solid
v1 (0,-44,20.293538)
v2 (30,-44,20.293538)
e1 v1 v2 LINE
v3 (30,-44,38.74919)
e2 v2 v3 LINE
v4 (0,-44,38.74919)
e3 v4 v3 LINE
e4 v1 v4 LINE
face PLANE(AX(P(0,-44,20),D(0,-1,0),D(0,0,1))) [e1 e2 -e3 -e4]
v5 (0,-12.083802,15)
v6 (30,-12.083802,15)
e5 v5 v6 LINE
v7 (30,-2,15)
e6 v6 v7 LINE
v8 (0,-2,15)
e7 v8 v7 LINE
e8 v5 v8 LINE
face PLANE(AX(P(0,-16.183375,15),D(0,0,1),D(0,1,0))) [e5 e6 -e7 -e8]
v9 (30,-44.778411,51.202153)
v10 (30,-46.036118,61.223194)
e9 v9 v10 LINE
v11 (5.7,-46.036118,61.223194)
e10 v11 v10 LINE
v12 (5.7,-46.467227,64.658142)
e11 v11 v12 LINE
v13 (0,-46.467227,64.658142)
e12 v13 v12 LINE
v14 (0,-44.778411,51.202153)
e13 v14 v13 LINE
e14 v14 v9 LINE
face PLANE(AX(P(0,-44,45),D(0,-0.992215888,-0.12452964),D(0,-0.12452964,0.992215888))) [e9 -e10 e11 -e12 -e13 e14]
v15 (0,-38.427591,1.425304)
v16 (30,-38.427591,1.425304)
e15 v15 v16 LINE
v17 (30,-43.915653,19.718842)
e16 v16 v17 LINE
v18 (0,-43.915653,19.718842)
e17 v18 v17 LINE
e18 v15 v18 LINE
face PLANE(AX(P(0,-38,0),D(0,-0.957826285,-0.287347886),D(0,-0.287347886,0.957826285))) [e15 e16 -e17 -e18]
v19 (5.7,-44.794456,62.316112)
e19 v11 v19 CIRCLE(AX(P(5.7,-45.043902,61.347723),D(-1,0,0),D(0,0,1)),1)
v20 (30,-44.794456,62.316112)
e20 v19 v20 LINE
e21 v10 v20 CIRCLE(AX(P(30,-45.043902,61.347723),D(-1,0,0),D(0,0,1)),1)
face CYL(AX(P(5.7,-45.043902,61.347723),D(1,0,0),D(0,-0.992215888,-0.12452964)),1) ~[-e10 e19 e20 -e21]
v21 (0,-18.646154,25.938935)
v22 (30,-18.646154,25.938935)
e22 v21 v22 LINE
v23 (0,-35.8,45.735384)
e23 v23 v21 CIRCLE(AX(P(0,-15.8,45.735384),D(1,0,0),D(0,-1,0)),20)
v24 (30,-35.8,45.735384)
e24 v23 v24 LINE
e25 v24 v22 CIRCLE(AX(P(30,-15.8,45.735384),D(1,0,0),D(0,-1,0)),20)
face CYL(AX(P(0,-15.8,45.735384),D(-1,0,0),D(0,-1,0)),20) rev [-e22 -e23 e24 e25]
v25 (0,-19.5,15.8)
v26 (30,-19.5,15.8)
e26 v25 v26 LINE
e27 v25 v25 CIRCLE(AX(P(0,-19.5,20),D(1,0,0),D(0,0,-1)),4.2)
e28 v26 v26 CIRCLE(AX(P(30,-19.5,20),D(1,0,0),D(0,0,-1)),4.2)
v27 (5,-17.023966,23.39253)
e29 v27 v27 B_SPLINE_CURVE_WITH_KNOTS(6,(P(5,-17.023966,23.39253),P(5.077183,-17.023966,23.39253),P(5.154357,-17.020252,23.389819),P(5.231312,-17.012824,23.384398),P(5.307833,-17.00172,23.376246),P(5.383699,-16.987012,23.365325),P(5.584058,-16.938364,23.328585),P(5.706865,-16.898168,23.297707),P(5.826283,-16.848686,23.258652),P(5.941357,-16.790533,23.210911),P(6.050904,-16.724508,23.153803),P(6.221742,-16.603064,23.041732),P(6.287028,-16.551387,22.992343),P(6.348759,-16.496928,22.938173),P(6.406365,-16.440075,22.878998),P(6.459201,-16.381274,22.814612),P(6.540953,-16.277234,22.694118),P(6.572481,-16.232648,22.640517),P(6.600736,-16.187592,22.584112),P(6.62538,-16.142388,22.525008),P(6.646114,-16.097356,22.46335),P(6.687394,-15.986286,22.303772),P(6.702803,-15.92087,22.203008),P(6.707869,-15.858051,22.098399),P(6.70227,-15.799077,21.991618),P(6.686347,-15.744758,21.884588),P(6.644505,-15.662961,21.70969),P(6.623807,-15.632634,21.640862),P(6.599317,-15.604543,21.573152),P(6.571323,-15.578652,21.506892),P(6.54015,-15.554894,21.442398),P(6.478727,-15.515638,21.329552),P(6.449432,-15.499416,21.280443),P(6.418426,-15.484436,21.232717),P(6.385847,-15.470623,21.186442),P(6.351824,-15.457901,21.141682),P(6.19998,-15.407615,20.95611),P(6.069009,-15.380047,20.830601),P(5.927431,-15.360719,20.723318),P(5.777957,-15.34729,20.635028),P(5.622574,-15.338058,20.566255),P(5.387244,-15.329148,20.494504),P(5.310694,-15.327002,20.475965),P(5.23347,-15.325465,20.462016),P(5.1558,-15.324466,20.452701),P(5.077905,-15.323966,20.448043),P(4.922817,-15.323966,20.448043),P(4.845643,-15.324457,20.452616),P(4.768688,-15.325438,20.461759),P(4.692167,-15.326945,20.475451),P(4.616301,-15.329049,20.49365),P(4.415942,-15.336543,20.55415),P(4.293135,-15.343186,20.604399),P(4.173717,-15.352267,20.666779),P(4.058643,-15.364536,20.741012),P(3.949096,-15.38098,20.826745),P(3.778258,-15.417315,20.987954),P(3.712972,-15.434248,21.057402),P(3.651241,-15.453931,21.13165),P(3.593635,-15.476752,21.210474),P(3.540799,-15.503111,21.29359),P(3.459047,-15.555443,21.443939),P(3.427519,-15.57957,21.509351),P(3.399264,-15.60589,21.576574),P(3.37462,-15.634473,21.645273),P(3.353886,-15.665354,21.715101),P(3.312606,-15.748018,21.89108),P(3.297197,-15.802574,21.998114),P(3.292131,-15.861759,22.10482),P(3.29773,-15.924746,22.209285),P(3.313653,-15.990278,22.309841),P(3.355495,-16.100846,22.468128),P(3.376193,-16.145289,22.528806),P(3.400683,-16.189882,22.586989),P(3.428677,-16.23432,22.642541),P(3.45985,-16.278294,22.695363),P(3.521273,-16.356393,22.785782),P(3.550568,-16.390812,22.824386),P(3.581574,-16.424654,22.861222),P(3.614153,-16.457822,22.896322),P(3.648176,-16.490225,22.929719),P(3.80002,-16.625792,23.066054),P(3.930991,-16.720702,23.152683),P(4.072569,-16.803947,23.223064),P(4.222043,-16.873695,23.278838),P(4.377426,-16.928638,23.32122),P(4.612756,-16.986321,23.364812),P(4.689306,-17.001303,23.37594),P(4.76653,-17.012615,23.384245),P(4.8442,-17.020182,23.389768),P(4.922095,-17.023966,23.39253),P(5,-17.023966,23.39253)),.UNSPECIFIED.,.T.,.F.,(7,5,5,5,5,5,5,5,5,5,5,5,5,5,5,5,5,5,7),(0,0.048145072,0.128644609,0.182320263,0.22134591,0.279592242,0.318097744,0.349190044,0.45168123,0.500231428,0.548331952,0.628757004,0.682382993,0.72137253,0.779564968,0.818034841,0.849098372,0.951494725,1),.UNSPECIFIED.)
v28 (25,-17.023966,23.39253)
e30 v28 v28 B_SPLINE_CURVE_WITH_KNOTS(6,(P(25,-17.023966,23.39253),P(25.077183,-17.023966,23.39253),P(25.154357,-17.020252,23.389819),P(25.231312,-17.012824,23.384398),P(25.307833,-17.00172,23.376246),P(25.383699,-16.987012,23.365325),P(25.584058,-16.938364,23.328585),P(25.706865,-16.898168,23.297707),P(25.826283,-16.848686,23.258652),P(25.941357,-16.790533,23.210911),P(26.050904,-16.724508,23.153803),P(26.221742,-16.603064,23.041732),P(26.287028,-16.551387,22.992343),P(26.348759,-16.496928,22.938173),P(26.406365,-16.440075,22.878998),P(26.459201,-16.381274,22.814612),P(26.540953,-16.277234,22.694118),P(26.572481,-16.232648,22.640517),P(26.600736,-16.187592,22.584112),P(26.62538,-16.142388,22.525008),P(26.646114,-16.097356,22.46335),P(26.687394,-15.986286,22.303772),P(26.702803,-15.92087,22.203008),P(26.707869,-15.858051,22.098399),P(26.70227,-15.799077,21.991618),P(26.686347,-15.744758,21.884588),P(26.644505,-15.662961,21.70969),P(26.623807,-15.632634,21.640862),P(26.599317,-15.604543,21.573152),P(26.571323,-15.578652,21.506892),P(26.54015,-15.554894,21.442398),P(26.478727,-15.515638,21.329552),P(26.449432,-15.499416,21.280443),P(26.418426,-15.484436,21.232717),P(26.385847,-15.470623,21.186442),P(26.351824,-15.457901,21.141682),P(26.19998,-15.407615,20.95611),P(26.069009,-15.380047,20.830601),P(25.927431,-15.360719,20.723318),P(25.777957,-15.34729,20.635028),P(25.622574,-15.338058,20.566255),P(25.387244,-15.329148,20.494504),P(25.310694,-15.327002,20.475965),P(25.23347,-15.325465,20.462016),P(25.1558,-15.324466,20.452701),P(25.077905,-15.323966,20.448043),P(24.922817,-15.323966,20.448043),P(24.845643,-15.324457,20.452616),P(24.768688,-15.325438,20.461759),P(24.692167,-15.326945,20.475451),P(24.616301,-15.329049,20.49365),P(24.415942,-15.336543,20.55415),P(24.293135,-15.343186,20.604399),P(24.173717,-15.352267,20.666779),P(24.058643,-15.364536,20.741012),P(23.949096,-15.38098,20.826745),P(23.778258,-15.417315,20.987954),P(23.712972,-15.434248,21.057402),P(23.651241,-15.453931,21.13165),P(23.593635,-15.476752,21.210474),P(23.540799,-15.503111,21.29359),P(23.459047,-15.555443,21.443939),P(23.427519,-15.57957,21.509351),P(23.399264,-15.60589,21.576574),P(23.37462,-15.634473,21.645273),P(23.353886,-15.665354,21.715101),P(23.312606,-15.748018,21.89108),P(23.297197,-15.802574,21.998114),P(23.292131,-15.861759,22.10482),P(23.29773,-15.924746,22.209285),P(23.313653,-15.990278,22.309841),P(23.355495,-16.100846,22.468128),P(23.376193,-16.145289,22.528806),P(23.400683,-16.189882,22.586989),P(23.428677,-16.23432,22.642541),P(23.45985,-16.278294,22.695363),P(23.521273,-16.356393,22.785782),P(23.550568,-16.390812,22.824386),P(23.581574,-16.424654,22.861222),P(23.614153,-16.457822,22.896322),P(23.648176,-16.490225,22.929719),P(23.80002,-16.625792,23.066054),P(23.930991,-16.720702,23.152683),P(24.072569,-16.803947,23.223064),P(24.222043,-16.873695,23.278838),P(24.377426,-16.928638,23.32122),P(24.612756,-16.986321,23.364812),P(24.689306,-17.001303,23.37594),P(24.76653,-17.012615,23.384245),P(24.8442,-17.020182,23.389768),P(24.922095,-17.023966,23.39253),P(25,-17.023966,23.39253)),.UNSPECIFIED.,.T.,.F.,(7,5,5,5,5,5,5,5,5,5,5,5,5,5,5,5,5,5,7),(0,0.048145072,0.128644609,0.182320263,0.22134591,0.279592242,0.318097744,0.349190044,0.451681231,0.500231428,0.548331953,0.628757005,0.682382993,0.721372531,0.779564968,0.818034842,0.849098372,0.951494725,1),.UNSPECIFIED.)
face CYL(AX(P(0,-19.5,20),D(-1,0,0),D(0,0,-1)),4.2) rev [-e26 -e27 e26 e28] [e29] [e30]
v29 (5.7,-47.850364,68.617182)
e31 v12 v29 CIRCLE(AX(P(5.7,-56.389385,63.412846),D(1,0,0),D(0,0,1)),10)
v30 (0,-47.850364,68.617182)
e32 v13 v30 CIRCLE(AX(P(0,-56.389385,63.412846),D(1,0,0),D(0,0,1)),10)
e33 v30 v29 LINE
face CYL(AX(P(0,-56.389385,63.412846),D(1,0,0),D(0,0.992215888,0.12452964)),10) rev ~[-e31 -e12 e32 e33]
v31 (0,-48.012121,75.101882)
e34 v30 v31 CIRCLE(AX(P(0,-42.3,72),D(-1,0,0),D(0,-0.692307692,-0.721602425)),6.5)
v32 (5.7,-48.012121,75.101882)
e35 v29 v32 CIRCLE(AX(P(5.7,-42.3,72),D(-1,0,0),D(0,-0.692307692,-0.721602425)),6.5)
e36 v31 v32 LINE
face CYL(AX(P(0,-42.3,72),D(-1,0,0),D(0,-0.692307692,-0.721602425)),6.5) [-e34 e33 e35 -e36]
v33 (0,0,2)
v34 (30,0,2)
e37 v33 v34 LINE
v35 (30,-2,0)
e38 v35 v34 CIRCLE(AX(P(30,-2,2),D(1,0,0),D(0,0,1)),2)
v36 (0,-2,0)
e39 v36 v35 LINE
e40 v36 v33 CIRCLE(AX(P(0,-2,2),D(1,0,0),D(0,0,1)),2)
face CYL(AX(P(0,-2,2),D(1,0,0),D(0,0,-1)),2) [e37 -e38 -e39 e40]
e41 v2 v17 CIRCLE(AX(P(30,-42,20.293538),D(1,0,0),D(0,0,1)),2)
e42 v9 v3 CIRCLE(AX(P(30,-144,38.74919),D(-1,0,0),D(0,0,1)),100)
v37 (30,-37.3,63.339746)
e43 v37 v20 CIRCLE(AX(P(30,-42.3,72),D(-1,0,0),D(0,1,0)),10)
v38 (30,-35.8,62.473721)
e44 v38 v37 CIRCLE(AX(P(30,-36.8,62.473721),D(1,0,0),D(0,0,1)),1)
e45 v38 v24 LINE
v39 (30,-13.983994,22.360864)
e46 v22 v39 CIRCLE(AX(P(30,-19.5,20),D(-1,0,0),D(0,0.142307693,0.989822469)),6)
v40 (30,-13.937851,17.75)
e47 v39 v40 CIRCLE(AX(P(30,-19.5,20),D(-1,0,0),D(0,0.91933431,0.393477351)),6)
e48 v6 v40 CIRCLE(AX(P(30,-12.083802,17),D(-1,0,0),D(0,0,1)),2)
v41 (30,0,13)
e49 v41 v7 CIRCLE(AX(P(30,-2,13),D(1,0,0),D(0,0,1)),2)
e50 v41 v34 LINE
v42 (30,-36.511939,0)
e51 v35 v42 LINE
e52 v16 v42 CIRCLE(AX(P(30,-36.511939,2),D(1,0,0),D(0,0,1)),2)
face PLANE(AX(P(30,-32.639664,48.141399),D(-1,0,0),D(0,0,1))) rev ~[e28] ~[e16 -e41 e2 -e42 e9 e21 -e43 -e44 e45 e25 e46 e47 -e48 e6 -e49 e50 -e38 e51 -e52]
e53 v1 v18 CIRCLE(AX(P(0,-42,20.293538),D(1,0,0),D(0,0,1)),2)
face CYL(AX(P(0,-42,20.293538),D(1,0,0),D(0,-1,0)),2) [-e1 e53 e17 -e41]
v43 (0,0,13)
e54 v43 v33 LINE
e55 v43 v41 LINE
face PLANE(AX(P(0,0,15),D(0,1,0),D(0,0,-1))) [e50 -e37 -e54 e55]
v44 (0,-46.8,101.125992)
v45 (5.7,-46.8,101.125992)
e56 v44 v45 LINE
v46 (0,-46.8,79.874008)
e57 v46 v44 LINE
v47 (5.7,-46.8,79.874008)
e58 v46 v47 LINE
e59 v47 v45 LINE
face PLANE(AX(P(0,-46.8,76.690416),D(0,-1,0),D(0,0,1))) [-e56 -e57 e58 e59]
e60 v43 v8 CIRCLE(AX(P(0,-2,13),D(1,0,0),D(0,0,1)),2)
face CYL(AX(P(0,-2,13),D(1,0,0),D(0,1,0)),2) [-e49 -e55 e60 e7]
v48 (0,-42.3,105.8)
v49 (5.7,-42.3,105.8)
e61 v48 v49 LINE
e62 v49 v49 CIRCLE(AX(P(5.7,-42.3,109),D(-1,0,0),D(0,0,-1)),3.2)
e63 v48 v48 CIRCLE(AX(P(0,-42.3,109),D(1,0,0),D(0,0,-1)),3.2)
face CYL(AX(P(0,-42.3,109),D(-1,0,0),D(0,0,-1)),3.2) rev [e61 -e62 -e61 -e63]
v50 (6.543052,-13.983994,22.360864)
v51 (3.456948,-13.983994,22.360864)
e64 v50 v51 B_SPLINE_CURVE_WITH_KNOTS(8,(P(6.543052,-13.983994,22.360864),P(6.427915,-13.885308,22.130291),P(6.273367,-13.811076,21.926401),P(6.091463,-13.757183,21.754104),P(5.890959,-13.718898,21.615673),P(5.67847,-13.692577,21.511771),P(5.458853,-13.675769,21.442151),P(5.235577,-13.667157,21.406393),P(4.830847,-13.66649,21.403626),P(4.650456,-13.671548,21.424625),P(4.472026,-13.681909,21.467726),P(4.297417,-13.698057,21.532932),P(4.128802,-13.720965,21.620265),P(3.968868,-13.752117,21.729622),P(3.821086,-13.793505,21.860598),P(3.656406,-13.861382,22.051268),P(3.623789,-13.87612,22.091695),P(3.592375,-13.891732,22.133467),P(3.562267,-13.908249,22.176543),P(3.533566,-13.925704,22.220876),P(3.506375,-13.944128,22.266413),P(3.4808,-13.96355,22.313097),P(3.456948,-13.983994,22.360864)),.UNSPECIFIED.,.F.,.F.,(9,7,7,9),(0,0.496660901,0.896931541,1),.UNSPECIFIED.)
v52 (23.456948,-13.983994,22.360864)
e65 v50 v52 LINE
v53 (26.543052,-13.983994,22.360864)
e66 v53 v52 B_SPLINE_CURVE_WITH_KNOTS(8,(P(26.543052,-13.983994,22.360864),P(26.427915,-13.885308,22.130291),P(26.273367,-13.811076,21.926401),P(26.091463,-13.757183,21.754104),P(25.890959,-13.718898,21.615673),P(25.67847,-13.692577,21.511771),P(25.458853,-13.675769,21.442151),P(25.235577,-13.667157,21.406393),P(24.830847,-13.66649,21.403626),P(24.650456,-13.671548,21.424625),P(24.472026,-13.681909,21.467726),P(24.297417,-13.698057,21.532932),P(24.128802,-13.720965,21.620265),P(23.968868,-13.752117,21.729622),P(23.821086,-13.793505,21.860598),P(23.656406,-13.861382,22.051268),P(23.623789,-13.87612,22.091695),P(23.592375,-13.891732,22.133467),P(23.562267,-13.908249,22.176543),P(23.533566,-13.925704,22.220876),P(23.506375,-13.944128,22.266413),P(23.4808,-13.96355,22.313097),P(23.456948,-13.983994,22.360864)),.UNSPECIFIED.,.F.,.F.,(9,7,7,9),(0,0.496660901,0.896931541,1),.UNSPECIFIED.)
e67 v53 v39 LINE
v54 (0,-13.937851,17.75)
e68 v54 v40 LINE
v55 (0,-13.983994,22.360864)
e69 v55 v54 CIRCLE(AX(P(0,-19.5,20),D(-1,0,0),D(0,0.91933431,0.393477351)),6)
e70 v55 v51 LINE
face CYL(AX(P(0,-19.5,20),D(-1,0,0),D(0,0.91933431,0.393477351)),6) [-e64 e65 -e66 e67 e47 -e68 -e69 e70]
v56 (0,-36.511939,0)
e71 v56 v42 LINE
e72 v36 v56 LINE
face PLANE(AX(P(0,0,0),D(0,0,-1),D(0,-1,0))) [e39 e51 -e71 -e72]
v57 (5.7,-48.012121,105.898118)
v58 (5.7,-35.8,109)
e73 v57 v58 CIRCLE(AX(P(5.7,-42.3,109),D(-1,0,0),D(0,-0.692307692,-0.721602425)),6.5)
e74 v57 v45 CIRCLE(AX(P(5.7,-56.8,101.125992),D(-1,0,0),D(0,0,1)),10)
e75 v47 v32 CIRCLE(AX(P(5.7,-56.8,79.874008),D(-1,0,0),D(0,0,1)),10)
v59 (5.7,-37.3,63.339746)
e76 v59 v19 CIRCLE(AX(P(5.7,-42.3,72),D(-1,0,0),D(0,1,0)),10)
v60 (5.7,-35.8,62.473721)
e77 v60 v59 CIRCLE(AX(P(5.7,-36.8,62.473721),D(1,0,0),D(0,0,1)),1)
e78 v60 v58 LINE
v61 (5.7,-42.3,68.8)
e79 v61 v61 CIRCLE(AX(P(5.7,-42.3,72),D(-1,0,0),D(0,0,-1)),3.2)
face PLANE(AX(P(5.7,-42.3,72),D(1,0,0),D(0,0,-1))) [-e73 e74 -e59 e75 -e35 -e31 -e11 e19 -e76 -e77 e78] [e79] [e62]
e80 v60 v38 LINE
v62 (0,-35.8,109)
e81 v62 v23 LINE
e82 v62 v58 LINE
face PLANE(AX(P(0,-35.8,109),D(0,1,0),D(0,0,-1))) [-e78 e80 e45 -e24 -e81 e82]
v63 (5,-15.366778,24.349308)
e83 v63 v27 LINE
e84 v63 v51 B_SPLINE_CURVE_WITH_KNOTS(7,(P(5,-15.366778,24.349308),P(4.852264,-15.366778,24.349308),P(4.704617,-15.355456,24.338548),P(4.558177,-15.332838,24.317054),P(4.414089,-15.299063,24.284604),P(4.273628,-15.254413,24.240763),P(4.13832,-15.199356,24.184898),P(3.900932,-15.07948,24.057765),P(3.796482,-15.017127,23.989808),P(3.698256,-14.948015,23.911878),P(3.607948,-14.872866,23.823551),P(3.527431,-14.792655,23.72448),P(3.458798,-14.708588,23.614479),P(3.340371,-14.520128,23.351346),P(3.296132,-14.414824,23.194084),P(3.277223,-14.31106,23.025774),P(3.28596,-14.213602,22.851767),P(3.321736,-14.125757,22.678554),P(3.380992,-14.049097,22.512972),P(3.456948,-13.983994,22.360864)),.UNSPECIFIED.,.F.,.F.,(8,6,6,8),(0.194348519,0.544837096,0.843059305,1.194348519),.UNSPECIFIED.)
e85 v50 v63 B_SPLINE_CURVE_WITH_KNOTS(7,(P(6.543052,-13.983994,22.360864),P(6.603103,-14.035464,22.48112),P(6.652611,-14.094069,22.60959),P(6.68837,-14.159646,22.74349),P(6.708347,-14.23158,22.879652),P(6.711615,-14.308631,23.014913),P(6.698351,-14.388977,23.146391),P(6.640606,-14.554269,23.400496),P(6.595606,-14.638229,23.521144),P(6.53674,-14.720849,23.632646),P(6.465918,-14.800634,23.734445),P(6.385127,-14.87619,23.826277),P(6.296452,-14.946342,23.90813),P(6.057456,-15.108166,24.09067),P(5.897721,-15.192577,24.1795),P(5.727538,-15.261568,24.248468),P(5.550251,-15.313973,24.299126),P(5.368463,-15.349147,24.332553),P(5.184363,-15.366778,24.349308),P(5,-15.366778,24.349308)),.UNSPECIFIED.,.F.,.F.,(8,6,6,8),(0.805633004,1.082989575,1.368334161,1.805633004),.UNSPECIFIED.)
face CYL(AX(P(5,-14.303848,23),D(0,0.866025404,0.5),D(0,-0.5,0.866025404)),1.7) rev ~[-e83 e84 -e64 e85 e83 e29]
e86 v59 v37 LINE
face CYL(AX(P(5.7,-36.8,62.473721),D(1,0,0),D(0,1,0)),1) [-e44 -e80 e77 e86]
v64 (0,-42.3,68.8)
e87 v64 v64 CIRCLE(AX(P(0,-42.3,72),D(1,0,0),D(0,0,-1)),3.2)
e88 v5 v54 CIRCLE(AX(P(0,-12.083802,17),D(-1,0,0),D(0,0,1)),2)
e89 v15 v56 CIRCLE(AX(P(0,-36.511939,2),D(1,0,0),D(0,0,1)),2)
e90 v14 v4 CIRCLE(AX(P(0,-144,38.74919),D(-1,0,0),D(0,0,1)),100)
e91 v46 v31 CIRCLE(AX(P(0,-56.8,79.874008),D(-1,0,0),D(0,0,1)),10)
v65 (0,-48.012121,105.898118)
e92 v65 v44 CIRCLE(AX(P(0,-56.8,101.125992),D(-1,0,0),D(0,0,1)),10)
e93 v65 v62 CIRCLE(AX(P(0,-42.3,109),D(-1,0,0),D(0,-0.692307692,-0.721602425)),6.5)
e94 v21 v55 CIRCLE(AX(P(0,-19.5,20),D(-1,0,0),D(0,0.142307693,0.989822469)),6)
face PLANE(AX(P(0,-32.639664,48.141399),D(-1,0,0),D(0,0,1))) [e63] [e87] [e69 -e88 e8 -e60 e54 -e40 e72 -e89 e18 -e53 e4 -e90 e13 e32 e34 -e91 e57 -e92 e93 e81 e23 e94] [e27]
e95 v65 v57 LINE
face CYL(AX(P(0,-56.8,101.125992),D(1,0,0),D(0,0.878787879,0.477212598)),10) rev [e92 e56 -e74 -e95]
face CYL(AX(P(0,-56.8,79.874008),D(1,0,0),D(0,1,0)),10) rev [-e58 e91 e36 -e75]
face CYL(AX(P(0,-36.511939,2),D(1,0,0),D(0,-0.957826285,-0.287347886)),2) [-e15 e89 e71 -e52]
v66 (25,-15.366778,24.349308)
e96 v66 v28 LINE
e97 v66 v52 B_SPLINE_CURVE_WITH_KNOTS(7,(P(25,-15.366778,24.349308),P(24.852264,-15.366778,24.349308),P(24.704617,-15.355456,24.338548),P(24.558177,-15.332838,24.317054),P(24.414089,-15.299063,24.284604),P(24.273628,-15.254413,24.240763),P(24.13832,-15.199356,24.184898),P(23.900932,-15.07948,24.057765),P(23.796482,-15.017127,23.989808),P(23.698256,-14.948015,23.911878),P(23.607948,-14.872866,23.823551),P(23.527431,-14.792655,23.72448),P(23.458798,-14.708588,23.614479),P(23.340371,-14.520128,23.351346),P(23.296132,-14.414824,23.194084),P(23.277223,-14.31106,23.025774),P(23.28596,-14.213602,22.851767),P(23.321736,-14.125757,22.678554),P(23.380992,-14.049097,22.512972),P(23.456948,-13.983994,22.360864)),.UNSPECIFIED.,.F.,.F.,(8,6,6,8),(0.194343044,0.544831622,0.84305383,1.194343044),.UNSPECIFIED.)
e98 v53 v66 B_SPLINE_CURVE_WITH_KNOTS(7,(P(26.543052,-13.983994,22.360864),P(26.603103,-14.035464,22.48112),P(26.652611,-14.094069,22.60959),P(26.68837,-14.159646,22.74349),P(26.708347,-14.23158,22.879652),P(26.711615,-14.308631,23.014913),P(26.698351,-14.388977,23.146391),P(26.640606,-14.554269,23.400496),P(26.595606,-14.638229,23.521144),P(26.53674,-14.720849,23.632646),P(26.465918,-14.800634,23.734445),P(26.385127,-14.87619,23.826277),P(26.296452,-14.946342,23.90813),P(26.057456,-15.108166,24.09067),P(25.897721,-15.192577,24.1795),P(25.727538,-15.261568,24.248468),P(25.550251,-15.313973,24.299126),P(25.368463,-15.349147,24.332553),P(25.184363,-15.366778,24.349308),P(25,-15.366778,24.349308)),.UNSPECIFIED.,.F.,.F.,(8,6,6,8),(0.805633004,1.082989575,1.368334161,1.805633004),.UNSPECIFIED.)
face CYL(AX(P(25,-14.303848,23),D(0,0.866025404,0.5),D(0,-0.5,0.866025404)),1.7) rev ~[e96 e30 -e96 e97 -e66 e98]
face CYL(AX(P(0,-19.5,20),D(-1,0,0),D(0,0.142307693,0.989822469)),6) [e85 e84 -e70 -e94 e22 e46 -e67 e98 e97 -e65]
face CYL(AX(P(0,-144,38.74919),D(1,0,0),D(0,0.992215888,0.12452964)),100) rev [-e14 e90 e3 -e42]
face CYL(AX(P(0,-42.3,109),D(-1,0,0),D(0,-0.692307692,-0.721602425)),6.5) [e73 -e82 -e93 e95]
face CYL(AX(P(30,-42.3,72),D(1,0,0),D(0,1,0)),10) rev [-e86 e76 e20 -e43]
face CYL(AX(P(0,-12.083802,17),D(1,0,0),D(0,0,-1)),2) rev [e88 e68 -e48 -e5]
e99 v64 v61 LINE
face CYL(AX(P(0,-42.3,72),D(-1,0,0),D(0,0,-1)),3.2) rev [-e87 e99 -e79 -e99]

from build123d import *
from build123d.topology import SkipClean

# Parameters (mm, degrees)
SKETCH_1_R               = 4.2
SKETCH_1_R_2             = 3.2
EXTRUDE_1_DEPTH          = 30
CUT_EXTRUDE_1_DEPTH      = 125.586877319
CUT_EXTRUDE_1_DEPTH_BACK = 125.586877319
SKETCH_2_R               = 5
SKETCH_4_R               = 8
CUT_EXTRUDE_3_DEPTH      = 24.3
CUT_EXTRUDE_4_DEPTH      = 24.3
CUT_EXTRUDE_5_REACH      = 105.181
CUT_EXTRUDE_5_END_RADIUS = 4.2
SKETCH_7_R               = 1.7
FILLET_1_R               = 2
FILLET_2_R               = 100
FILLET_4_R               = 2
FILLET_5_R               = 1
FILLET_6_R               = 10


with BuildPart() as part:
    # ｽｹｯﾁ1 → ﾎﾞｽ - 押し出し1 (new body)
    with BuildSketch(Plane(origin=(0, 0, 0), x_dir=(0, 0, -1), z_dir=(1, 0, 0))):
        with BuildLine():
            Line((0, 0), (0, -38))
            Line((0, -38), (-20, -44))
            Line((-20, -44), (-45, -44))
            Line((-45, -44), (-67.30958424, -46.8))
            ThreePointArc((-67.30958424, -46.8), (-72, -48.8), (-76.69041576, -46.8))
            Line((-76.69041576, -46.8), (-104.30958424, -46.8))
            ThreePointArc((-104.30958424, -46.8), (-114.979130372, -44.849509757), (-109, -35.8))
            Line((-109, -35.8), (-73.332546795, -35.8))
            Line((-73.332546795, -35.8), (-72, -35.8))
            Line((-72, -35.8), (-45.735384202, -35.8))
            ThreePointArc((-45.735384202, -35.8), (-32.638114962, -30.91494421), (-25.938934816, -18.646153846))
            ThreePointArc((-25.938934816, -18.646153846), (-24.759789788, -15.847001072), (-22.360864108, -13.983994139))
            ThreePointArc((-22.360864108, -13.983994139), (-18.282275098, -13.751137403), (-15, -16.18337521))
            Line((-15, -16.18337521), (-15, 0))
            Line((-15, 0), (0, 0))
        make_face()
        with Locations((-20, -19.5)):
            Circle(SKETCH_1_R, mode=Mode.SUBTRACT)
        with Locations((-109, -42.3)):
            Circle(SKETCH_1_R_2, mode=Mode.SUBTRACT)
        with Locations((-72, -42.3)):
            Circle(SKETCH_1_R_2, mode=Mode.SUBTRACT)
    extrude(amount=EXTRUDE_1_DEPTH)

    # ｽｹｯﾁ2 → ｶｯﾄ - 押し出し1 (cut, two sides: drawn at the far end of the back side and taken through both)
    with BuildSketch(Plane(origin=(0, -35.8, 0), x_dir=(1, 0, 0), z_dir=(0, 1, 0)).offset(-CUT_EXTRUDE_1_DEPTH_BACK)):
        with Locations(Location((15, -83.6, 0), (0, 0, 270))):
            Circle(SKETCH_2_R)
    extrude(amount=CUT_EXTRUDE_1_DEPTH + CUT_EXTRUDE_1_DEPTH_BACK, mode=Mode.SUBTRACT)

    # ｽｹｯﾁ4 → ｶｯﾄ - 押し出し3 (cut)
    with BuildSketch(Plane(origin=(30, 0, 0), x_dir=(0, 0, -1), z_dir=(1, 0, 0))):
        with Locations((-72, -42.3)):
            Circle(SKETCH_4_R)
        with Locations((-109, -42.3)):
            Circle(SKETCH_4_R)
    extrude(amount=-CUT_EXTRUDE_3_DEPTH, mode=Mode.SUBTRACT)

    # ｽｹｯﾁ5 → ｶｯﾄ - 押し出し4 (cut)
    with BuildSketch(Plane(origin=(30, 0, 0), x_dir=(0, 0, -1), z_dir=(1, 0, 0))):
        with BuildLine():
            Line((-109, -32.3), (-72, -32.3))
            ThreePointArc((-72, -32.3), (-62, -42.3), (-72, -52.3))
            Line((-72, -52.3), (-109, -52.3))
            ThreePointArc((-109, -52.3), (-119, -42.3), (-109, -32.3))
        make_face()
    extrude(amount=-CUT_EXTRUDE_4_DEPTH, mode=Mode.SUBTRACT)

    # ｶｯﾄ - 押し出し5: up to this cylinder (the profile starts outside it)
    with SkipClean():  # the faces are left unmerged after this step: merging them gives an invalid solid
        cut_extrude_5_end = Plane(origin=(15, -19.5, 20), z_dir=(-1, 0, 0)) * Cylinder(CUT_EXTRUDE_5_END_RADIUS, 239.762, mode=Mode.PRIVATE)
        # ｽｹｯﾁ7 → ｶｯﾄ - 押し出し5 (cut, up to the surface)
        with BuildSketch(Plane(origin=(30, -14.303847577, 23), x_dir=(1, 0, 0), z_dir=(0, 0.866025403784436, 0.5000000000000043)), mode=Mode.PRIVATE) as cut_extrude_5_sk1:
            with Locations(Location((-5, 0, 0), (0, 0, 270))):
                Circle(SKETCH_7_R)
        cut_extrude_5_tool1 = extrude(cut_extrude_5_sk1.sketch, amount=-CUT_EXTRUDE_5_REACH, mode=Mode.PRIVATE) - cut_extrude_5_end
        add(cut_extrude_5_tool1.solids().sort_by_distance((25, -14.303848, 23))[0], mode=Mode.SUBTRACT)
        # ｽｹｯﾁ7 → ｶｯﾄ - 押し出し5 (cut, up to the surface)
        with BuildSketch(Plane(origin=(30, -14.303847577, 23), x_dir=(1, 0, 0), z_dir=(0, 0.866025403784436, 0.5000000000000043)), mode=Mode.PRIVATE) as cut_extrude_5_sk2:
            with Locations(Location((-25, 0, 0), (0, 0, 270))):
                Circle(SKETCH_7_R)
        cut_extrude_5_tool2 = extrude(cut_extrude_5_sk2.sketch, amount=-CUT_EXTRUDE_5_REACH, mode=Mode.PRIVATE) - cut_extrude_5_end
        add(cut_extrude_5_tool2.solids().sort_by_distance((5, -14.303848, 23))[0], mode=Mode.SUBTRACT)

    # ﾌｨﾚｯﾄ1
    fillet_1_edges = [part.edges().sort_by_distance(p)[0] for p in [
        (15, -16.18337521, 15),
    ]]
    fillet(fillet_1_edges, radius=FILLET_1_R)

    # ﾌｨﾚｯﾄ2
    fillet_2_edges = [part.edges().sort_by_distance(p)[0] for p in [
        (15, -44, 45),
    ]]
    fillet(fillet_2_edges, radius=FILLET_2_R)

    # ﾌｨﾚｯﾄ4
    fillet_4_edges = [part.edges().sort_by_distance(p)[0] for p in [
        (15, 0, 0),
        (15, -38, 0),
        (15, -44, 20),
        (15, 0, 15),
    ]]
    fillet(fillet_4_edges, radius=FILLET_4_R)

    # ﾌｨﾚｯﾄ5
    fillet_5_edges = [part.edges().sort_by_distance(p)[0] for p in [
        (17.85, -46.23485742, 62.80669281),
        (17.85, -35.8, 64.400657923),
    ]]
    fillet(fillet_5_edges, radius=FILLET_5_R)

    # ﾌｨﾚｯﾄ6
    fillet_6_edges = [part.edges().sort_by_distance(p)[0] for p in [
        (2.85, -46.8, 67.30958424),
        (2.85, -46.8, 76.69041576),
        (2.85, -46.8, 104.30958424),
    ]]
    fillet(fillet_6_edges, radius=FILLET_6_R)


solid = part.part
